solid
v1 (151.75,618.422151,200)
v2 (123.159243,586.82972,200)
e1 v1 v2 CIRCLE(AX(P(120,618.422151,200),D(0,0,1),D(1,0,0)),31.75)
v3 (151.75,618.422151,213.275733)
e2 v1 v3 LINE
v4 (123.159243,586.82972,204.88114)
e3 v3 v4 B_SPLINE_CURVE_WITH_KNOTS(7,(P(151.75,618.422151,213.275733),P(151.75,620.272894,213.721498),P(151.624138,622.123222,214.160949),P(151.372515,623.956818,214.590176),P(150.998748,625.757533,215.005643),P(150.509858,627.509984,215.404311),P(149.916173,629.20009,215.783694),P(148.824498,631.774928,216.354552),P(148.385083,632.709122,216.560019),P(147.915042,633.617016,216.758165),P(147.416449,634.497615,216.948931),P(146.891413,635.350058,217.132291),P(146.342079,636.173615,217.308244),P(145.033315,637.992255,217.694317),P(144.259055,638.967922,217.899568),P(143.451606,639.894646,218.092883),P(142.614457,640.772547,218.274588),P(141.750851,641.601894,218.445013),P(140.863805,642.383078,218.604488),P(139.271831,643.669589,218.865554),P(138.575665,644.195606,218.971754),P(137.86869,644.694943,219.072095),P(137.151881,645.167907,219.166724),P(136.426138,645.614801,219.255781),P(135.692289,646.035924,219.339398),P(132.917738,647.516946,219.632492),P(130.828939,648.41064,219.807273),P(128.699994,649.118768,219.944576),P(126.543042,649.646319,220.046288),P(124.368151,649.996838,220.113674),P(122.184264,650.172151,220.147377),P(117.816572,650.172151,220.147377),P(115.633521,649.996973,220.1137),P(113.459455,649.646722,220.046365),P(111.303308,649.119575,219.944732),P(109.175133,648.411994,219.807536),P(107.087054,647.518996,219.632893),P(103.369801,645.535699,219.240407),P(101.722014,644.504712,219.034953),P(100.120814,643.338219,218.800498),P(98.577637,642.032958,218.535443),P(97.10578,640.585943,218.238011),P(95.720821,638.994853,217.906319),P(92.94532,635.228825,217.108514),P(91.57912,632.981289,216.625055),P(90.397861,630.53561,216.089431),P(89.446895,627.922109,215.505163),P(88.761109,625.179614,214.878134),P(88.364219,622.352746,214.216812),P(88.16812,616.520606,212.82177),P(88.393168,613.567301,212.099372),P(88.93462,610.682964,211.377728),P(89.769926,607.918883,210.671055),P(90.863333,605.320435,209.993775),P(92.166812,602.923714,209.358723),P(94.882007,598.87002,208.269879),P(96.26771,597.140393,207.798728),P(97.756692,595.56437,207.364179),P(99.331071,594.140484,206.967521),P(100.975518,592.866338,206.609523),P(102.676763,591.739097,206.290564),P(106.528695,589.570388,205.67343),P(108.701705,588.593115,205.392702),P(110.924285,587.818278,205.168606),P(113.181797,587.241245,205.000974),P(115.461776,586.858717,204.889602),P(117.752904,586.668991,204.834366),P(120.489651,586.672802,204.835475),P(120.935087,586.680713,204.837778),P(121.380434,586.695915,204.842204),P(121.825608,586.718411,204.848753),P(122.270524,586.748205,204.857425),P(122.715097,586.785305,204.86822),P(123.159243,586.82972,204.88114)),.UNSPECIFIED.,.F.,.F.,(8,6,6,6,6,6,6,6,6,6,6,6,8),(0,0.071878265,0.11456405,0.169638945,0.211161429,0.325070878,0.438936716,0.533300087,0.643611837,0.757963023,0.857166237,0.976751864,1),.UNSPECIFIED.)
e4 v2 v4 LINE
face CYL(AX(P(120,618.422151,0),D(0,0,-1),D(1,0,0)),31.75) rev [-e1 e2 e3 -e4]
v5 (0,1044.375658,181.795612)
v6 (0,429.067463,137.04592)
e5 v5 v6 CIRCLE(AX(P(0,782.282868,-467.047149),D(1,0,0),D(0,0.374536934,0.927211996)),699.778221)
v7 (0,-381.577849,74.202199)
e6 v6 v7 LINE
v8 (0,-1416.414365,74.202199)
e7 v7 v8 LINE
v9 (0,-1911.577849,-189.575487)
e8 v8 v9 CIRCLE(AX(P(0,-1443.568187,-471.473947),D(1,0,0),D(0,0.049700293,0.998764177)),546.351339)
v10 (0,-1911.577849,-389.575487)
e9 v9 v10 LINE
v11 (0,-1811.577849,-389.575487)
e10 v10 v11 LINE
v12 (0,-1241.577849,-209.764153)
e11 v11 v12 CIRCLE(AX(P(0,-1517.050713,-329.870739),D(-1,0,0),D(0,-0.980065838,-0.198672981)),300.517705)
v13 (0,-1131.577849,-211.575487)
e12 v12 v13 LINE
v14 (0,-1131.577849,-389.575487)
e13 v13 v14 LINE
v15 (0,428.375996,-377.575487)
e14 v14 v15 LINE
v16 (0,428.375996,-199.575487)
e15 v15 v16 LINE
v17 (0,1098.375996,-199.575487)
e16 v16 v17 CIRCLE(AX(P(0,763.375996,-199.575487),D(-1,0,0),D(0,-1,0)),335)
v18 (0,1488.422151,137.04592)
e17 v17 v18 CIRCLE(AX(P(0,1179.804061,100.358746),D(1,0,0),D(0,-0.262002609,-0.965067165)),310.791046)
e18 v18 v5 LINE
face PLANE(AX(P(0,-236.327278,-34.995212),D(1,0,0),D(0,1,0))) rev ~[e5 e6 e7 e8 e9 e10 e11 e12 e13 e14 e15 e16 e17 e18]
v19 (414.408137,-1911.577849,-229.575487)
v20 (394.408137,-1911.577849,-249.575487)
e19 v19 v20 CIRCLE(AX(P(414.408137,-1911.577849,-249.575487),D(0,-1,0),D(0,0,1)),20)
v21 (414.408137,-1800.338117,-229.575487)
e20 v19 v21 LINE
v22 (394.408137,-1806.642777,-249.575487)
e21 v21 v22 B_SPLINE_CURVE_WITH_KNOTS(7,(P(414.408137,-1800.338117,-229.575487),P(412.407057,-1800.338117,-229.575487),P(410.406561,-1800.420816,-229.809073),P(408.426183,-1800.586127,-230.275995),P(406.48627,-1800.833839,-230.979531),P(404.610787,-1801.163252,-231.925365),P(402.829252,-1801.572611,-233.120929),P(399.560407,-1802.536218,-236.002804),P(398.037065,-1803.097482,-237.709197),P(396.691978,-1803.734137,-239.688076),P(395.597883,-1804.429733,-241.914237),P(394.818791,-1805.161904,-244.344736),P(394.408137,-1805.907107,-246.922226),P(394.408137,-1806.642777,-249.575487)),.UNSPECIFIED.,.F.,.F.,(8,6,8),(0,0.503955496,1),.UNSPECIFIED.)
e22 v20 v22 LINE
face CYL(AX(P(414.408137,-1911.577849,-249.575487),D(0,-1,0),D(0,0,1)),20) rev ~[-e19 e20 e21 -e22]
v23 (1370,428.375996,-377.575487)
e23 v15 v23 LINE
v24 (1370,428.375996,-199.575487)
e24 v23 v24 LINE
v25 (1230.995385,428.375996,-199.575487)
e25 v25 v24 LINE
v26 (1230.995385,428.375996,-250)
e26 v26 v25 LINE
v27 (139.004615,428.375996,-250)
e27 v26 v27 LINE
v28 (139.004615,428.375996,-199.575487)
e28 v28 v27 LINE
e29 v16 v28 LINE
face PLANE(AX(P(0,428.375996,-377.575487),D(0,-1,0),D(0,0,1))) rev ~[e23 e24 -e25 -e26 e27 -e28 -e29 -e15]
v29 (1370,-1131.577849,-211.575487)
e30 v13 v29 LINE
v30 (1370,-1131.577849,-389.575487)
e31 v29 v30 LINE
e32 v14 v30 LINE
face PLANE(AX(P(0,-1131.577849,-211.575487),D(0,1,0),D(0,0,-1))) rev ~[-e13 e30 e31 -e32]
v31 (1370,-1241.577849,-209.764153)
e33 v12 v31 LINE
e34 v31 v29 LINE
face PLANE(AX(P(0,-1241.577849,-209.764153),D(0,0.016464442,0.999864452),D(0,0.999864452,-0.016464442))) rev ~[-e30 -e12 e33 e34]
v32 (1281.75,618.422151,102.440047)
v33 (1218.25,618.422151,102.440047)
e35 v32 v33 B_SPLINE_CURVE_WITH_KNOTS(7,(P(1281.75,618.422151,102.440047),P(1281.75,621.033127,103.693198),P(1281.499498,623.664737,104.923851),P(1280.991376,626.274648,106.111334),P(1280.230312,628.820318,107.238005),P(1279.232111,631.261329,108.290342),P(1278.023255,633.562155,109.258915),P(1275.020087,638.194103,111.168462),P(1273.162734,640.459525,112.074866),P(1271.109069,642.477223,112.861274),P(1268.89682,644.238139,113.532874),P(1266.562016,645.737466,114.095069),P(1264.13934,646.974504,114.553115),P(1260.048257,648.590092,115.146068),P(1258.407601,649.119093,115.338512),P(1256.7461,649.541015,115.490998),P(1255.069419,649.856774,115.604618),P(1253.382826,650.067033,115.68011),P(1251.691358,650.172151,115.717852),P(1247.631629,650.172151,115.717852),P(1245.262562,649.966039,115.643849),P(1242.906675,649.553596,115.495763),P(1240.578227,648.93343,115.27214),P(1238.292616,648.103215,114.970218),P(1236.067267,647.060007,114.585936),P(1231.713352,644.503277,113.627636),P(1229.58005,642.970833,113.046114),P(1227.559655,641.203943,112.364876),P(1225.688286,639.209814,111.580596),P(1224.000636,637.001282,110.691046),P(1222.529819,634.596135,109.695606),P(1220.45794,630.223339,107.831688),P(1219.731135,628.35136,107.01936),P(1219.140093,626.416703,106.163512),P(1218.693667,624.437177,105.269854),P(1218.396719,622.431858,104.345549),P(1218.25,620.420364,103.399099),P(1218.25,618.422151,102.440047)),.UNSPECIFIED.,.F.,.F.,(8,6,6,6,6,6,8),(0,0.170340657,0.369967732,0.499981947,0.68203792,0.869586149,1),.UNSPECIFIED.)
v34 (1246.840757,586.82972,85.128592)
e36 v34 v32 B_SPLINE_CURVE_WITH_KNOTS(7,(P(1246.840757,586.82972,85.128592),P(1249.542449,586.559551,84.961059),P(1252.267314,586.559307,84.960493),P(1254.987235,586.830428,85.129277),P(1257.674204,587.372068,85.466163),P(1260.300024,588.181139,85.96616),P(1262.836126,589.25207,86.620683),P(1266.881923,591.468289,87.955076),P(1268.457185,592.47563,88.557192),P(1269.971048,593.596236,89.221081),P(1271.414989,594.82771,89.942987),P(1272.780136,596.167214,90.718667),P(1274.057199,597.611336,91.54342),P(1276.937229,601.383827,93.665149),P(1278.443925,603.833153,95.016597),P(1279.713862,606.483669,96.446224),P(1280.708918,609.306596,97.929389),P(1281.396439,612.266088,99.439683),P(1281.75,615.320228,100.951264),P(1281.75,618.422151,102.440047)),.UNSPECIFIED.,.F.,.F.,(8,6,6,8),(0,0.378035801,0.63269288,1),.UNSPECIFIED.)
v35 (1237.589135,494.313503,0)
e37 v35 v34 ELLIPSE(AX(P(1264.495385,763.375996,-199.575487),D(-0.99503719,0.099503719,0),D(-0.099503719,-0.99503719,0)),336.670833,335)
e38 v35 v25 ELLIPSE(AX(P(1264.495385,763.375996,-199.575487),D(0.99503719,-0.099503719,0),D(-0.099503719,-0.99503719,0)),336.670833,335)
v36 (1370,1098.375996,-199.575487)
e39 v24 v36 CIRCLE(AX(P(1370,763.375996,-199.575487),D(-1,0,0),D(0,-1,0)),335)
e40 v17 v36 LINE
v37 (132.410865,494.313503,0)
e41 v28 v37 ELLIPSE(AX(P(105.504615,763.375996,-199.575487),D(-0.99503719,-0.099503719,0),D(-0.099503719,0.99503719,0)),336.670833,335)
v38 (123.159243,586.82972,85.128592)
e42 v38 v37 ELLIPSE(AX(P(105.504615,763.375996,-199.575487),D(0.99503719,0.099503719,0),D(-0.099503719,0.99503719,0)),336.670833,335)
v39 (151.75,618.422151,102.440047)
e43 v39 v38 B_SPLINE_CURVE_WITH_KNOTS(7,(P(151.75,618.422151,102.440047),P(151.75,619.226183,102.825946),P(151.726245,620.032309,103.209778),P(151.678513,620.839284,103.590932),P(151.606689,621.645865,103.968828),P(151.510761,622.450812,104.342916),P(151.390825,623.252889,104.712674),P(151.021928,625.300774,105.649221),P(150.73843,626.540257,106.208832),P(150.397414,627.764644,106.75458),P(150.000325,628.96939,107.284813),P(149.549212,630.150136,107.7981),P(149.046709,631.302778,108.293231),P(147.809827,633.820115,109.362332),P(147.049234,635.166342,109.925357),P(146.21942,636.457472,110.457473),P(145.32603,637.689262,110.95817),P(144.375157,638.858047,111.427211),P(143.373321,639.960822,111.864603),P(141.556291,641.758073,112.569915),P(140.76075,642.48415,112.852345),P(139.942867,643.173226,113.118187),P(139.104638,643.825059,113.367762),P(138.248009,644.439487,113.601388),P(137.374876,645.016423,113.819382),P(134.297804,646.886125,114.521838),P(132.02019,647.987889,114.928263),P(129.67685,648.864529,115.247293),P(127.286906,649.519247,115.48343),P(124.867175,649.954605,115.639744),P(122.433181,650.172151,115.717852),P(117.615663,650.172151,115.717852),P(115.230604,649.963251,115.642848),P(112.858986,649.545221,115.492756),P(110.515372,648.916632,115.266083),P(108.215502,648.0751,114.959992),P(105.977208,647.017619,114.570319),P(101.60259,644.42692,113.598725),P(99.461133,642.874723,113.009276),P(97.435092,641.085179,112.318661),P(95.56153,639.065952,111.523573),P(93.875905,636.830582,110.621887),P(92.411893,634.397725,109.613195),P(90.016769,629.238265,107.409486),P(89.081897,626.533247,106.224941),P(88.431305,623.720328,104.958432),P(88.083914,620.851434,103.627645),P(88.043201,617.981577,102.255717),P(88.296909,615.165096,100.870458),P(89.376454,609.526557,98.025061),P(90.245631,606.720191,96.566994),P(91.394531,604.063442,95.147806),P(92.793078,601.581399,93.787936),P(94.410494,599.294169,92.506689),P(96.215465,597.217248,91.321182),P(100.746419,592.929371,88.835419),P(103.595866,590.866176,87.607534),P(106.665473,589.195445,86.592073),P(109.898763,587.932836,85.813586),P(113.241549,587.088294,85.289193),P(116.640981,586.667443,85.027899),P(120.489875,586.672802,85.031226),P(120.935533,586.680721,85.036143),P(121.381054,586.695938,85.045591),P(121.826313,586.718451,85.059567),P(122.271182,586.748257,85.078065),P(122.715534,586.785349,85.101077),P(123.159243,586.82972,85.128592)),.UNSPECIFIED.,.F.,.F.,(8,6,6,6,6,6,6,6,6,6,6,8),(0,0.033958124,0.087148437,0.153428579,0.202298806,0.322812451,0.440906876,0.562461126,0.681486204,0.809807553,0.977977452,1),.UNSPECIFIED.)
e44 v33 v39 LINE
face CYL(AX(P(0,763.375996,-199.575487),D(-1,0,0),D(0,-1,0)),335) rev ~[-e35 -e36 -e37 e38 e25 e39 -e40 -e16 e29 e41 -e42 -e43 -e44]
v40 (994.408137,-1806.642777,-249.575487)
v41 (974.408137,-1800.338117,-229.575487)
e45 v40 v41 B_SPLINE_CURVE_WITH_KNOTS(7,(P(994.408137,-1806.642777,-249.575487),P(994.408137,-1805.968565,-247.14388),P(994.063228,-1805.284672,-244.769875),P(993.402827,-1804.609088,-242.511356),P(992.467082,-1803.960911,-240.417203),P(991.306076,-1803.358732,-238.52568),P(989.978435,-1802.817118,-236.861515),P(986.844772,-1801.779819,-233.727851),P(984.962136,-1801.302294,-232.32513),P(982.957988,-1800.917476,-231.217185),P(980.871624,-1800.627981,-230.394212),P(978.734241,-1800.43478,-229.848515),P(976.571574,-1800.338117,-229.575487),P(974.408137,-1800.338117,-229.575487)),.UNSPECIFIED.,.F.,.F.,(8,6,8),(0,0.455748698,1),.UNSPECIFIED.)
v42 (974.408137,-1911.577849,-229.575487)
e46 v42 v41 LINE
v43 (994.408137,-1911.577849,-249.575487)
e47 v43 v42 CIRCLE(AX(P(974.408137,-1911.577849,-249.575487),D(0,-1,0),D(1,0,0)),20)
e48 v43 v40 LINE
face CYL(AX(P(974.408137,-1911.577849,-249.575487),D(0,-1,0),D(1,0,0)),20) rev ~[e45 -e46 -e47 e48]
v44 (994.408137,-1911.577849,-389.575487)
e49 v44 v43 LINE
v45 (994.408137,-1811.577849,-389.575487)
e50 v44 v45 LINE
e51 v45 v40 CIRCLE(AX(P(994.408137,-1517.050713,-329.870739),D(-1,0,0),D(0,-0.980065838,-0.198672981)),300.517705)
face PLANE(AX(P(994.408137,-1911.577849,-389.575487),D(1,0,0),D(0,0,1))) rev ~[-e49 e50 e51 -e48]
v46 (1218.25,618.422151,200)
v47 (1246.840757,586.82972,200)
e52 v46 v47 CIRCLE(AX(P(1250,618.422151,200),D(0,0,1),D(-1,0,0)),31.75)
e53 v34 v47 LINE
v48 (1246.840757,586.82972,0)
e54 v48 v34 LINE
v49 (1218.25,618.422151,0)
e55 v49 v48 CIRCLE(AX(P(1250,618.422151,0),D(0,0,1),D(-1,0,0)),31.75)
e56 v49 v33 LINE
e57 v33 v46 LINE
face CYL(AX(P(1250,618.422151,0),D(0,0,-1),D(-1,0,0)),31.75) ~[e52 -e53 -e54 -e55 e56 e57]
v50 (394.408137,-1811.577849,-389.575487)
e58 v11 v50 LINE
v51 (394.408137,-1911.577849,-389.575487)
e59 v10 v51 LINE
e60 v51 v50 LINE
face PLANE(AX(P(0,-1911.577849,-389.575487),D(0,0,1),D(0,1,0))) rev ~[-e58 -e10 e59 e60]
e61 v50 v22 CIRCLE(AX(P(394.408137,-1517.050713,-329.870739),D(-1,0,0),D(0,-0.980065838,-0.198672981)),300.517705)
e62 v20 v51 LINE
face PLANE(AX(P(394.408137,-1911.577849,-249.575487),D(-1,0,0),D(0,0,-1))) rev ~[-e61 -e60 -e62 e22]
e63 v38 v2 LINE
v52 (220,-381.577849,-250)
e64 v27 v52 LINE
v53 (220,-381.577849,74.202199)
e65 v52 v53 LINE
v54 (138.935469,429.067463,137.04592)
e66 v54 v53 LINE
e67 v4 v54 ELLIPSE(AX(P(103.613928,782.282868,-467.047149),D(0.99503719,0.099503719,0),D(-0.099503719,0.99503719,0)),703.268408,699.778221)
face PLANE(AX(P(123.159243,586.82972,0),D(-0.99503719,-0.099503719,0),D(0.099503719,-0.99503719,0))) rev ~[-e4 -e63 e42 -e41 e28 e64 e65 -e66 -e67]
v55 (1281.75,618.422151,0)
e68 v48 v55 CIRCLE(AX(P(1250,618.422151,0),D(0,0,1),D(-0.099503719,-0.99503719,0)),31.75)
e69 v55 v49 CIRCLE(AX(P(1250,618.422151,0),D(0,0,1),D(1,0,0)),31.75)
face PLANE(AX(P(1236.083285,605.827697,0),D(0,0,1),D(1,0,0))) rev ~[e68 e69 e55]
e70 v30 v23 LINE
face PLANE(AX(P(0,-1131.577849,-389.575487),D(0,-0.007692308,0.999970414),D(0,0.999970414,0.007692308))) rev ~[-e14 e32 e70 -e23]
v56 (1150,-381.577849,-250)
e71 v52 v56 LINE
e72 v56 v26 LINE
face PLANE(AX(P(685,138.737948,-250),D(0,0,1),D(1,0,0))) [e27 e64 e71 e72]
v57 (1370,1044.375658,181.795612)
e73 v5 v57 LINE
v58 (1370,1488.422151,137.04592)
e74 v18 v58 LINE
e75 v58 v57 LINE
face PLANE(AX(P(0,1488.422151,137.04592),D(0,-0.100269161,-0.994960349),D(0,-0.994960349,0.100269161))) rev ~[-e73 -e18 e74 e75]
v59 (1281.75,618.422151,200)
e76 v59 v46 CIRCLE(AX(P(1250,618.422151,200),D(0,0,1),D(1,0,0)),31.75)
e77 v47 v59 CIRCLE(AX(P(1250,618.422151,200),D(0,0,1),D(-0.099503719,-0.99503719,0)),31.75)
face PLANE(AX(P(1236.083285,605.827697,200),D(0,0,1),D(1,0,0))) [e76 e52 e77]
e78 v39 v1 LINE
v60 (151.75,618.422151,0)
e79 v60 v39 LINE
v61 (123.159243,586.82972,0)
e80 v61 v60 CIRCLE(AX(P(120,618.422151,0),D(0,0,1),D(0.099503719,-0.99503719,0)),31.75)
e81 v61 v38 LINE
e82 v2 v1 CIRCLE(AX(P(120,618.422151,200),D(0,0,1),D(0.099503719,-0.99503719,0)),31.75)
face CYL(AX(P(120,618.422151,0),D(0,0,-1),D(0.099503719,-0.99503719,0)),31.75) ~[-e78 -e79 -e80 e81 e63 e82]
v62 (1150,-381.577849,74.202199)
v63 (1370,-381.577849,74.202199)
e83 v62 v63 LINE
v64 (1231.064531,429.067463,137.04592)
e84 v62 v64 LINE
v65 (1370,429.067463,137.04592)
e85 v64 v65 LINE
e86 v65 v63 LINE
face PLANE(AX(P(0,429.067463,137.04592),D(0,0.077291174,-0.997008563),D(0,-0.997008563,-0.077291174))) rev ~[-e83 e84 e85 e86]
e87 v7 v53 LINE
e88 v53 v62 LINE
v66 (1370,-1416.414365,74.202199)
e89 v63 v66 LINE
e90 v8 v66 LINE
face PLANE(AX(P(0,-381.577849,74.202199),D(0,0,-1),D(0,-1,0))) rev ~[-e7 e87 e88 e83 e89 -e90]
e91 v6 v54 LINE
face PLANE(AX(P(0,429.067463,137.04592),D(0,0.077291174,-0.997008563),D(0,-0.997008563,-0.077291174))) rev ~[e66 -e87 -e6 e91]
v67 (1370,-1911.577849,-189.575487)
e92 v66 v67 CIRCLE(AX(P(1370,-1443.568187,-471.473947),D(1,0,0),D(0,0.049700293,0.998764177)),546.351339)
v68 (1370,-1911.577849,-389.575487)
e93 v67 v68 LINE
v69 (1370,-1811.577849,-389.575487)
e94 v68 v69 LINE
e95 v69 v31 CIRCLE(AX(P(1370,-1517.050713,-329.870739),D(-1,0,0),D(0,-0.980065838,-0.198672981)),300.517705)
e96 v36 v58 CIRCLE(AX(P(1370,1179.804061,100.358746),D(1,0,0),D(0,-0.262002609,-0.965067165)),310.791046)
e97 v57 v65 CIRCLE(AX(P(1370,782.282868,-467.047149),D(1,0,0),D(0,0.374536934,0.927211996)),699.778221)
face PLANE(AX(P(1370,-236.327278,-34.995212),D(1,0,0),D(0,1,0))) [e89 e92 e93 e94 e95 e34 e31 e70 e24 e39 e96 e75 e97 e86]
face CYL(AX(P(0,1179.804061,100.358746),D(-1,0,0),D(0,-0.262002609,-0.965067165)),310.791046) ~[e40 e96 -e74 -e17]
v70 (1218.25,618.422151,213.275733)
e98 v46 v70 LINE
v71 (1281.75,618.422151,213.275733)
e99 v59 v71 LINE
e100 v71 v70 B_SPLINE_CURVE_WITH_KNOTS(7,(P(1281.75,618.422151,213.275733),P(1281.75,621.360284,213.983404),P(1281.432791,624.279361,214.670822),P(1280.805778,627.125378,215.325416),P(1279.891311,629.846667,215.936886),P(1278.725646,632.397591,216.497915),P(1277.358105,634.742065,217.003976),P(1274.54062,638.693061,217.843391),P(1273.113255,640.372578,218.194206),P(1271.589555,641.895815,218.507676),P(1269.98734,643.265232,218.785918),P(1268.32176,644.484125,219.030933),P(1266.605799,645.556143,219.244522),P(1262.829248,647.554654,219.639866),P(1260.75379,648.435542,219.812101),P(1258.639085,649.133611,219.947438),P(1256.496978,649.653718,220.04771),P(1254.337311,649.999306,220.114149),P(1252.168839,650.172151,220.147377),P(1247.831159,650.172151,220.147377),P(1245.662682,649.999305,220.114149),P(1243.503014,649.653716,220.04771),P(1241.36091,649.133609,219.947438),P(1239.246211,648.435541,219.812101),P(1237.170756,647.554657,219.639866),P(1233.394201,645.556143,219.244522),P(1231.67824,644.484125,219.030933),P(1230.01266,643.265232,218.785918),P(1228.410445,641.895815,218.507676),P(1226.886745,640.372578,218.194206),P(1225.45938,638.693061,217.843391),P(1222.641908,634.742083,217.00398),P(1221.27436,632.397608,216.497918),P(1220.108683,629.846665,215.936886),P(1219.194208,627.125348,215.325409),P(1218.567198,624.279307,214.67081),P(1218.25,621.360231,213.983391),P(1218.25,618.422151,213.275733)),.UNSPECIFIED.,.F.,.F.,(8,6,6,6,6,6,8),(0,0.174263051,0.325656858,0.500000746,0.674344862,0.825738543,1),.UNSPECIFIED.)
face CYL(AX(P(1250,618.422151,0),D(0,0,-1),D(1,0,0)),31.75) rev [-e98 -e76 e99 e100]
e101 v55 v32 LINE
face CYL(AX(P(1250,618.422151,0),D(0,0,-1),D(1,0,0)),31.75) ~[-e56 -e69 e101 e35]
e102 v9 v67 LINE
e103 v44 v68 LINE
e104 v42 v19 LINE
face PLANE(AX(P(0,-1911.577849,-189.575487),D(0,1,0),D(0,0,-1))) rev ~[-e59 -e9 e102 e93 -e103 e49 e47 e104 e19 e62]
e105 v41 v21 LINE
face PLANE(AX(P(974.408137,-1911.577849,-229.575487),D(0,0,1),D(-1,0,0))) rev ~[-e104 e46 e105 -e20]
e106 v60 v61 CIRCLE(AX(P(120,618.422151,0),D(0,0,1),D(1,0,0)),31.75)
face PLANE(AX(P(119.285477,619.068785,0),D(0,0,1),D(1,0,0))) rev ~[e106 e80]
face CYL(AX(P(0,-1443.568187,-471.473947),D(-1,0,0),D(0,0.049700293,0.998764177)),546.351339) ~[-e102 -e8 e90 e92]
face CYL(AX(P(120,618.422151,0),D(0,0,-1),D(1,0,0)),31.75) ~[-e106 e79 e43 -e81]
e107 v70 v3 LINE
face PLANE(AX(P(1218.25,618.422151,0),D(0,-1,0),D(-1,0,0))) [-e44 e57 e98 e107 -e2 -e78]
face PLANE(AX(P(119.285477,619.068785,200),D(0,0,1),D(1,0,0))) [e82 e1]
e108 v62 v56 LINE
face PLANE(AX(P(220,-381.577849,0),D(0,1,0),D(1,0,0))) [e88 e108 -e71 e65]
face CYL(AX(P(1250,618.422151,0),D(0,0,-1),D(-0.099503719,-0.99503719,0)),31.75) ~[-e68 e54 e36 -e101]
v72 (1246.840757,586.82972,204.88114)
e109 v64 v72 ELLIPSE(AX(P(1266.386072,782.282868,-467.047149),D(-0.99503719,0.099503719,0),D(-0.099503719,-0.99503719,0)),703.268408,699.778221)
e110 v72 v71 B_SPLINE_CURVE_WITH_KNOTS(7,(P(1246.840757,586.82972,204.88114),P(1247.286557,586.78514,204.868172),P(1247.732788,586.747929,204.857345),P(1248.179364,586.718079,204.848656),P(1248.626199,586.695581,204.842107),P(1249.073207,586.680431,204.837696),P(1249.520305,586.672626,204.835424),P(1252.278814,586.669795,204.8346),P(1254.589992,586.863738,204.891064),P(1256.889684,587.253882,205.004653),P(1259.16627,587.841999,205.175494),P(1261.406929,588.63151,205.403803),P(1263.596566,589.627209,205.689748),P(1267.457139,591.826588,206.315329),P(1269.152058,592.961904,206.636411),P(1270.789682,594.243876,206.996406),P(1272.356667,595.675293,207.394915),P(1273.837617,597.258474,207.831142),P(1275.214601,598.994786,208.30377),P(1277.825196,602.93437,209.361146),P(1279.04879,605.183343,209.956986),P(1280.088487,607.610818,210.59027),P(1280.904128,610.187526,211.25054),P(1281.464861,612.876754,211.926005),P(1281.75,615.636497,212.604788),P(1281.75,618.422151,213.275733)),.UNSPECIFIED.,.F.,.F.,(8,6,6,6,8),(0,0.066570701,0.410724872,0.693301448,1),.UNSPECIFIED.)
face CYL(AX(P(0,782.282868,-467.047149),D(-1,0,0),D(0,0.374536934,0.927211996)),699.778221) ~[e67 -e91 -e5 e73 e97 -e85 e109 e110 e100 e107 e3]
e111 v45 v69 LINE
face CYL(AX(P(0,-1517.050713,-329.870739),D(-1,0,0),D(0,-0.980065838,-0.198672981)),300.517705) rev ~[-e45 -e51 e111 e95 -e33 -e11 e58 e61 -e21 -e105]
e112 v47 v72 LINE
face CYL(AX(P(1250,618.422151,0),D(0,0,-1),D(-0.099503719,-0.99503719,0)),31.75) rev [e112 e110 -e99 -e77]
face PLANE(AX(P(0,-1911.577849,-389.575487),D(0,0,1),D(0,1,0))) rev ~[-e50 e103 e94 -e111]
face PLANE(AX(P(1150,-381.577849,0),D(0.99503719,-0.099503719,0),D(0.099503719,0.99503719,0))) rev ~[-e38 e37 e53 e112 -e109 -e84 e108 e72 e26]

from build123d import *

# Parameters (mm, degrees)
F1_DEPTH      = 1370
F3_DEPTH      = 350
F3_DEPTH_BACK = 250
F5_DEPTH      = 500
F6_DEPTH      = 200


with BuildPart() as f1:
    # F0 (on Right) → F1 (new body)
    with BuildSketch(Plane.YZ):
        with BuildLine():
            Line((-1911.5778493881, -189.5754868984), (-1911.5778493881, -389.5754868984))
            Line((-1911.5778493881, -389.5754868984), (-1811.5778493881, -389.5754868984))
            ThreePointArc((-1811.5778493881, -389.5754868984), (-1607.4597576935, -43.2750382885), (-1241.5778493881, -209.7641527653))
            Line((-1241.5778493881, -209.7641527653), (-1131.5778493881, -211.5754868984))
            Line((-1131.5778493881, -211.5754868984), (428.375996083, -199.5754868984))
            ThreePointArc((428.375996083, -199.5754868984), (763.375996083, 135.4245131016), (1098.375996083, -199.5754868984))
            ThreePointArc((1098.375996083, -199.5754868984), (1382.8614905548, -134.9256651401), (1488.4221506119, 137.0459198952))
            Line((1488.4221506119, 137.0459198952), (1044.3756580353, 181.7956119776))
            ThreePointArc((1044.3756580353, 181.7956119776), (731.5239625306, 230.887727856), (429.0674626827, 137.0459198952))
            Line((429.0674626827, 137.0459198952), (-381.5778493881, 74.202198957))
            Line((-381.5778493881, 74.202198957), (-1416.4143651724, 74.202198957))
            ThreePointArc((-1416.4143651724, 74.202198957), (-1700.4400128393, 10.7258572479), (-1911.5778493881, -189.5754868984))
        make_face()
        Polygon((428.375996083, -199.5754868984), (-1131.5778493881, -211.5754868984), (-1131.5778493881, -389.5754868984), (428.375996083, -377.5754868984), align=None)
    extrude(amount=F1_DEPTH)

    # F2 (on Top) → F3 (cut, two sides)
    with BuildSketch(Plane.XY) as f3_sk:
        with BuildLine():
            Line((123.1592430789, 586.8297198227), (220, -381.5778493881))
            Line((220, -381.5778493881), (1150, -381.5778493881))
            Line((1150, -381.5778493881), (1246.8407569211, 586.8297198227))
            ThreePointArc((1246.8407569211, 586.8297198227), (1226.4588820597, 597.1177316777), (1218.25, 618.4221506119))
            Line((1218.25, 618.4221506119), (151.75, 618.4221506119))
            ThreePointArc((151.75, 618.4221506119), (143.5411179403, 597.1177316777), (123.1592430789, 586.8297198227))
        make_face()
        with BuildLine():
            ThreePointArc((151.75, 618.4221506119), (96.4588820597, 639.726569546), (123.1592430789, 586.8297198227))
            Line((123.1592430789, 586.8297198227), (120, 618.4221506119))
            Line((120, 618.4221506119), (151.75, 618.4221506119))
        make_face()
        with BuildLine():
            Line((120, 618.4221506119), (123.1592430789, 586.8297198227))
            ThreePointArc((123.1592430789, 586.8297198227), (143.5411179403, 597.1177316777), (151.75, 618.4221506119))
            Line((151.75, 618.4221506119), (120, 618.4221506119))
        make_face()
        with BuildLine():
            ThreePointArc((1218.25, 618.4221506119), (1226.4588820597, 597.1177316777), (1246.8407569211, 586.8297198227))
            Line((1246.8407569211, 586.8297198227), (1250, 618.4221506119))
            Line((1250, 618.4221506119), (1218.25, 618.4221506119))
        make_face()
        with BuildLine():
            Line((1250, 618.4221506119), (1246.8407569211, 586.8297198227))
            ThreePointArc((1246.8407569211, 586.8297198227), (1271.3044189342, 594.8810326716), (1281.75, 618.4221506119))
            ThreePointArc((1281.75, 618.4221506119), (1250, 650.1721506119), (1218.25, 618.4221506119))
            Line((1218.25, 618.4221506119), (1250, 618.4221506119))
        make_face()
    extrude(amount=F3_DEPTH, mode=Mode.SUBTRACT)
    extrude(f3_sk.sketch, amount=-F3_DEPTH_BACK, mode=Mode.SUBTRACT)

    # F4 (on face) → F5 (cut)
    with BuildSketch(Plane.XZ.offset(1911.5778493881)):
        with BuildLine():
            Line((394.4081366062, -249.5754868984), (394.4081366062, -389.5754868984))
            Line((394.4081366062, -389.5754868984), (994.4081366062, -389.5754868984))
            Line((994.4081366062, -389.5754868984), (994.4081366062, -249.5754868984))
            ThreePointArc((994.4081366062, -249.5754868984), (988.5502722299, -235.4333512747), (974.4081366062, -229.5754868984))
            Line((974.4081366062, -229.5754868984), (414.4081366062, -229.5754868984))
            ThreePointArc((414.4081366062, -229.5754868984), (400.2660009825, -235.4333512747), (394.4081366062, -249.5754868984))
        make_face()
    extrude(amount=-F5_DEPTH, mode=Mode.SUBTRACT)

    # F2 (on Top) → F6 (join)
    with BuildSketch(Plane.XY):
        with BuildLine():
            ThreePointArc((151.75, 618.4221506119), (96.4588820597, 639.726569546), (123.1592430789, 586.8297198227))
            Line((123.1592430789, 586.8297198227), (120, 618.4221506119))
            Line((120, 618.4221506119), (151.75, 618.4221506119))
        make_face()
        with BuildLine():
            Line((120, 618.4221506119), (123.1592430789, 586.8297198227))
            ThreePointArc((123.1592430789, 586.8297198227), (143.5411179403, 597.1177316777), (151.75, 618.4221506119))
            Line((151.75, 618.4221506119), (120, 618.4221506119))
        make_face()
        with BuildLine():
            ThreePointArc((1218.25, 618.4221506119), (1226.4588820597, 597.1177316777), (1246.8407569211, 586.8297198227))
            Line((1246.8407569211, 586.8297198227), (1250, 618.4221506119))
            Line((1250, 618.4221506119), (1218.25, 618.4221506119))
        make_face()
        with BuildLine():
            Line((1250, 618.4221506119), (1246.8407569211, 586.8297198227))
            ThreePointArc((1246.8407569211, 586.8297198227), (1271.3044189342, 594.8810326716), (1281.75, 618.4221506119))
            ThreePointArc((1281.75, 618.4221506119), (1250, 650.1721506119), (1218.25, 618.4221506119))
            Line((1218.25, 618.4221506119), (1250, 618.4221506119))
        make_face()
    extrude(amount=F6_DEPTH)


solid = f1.part
